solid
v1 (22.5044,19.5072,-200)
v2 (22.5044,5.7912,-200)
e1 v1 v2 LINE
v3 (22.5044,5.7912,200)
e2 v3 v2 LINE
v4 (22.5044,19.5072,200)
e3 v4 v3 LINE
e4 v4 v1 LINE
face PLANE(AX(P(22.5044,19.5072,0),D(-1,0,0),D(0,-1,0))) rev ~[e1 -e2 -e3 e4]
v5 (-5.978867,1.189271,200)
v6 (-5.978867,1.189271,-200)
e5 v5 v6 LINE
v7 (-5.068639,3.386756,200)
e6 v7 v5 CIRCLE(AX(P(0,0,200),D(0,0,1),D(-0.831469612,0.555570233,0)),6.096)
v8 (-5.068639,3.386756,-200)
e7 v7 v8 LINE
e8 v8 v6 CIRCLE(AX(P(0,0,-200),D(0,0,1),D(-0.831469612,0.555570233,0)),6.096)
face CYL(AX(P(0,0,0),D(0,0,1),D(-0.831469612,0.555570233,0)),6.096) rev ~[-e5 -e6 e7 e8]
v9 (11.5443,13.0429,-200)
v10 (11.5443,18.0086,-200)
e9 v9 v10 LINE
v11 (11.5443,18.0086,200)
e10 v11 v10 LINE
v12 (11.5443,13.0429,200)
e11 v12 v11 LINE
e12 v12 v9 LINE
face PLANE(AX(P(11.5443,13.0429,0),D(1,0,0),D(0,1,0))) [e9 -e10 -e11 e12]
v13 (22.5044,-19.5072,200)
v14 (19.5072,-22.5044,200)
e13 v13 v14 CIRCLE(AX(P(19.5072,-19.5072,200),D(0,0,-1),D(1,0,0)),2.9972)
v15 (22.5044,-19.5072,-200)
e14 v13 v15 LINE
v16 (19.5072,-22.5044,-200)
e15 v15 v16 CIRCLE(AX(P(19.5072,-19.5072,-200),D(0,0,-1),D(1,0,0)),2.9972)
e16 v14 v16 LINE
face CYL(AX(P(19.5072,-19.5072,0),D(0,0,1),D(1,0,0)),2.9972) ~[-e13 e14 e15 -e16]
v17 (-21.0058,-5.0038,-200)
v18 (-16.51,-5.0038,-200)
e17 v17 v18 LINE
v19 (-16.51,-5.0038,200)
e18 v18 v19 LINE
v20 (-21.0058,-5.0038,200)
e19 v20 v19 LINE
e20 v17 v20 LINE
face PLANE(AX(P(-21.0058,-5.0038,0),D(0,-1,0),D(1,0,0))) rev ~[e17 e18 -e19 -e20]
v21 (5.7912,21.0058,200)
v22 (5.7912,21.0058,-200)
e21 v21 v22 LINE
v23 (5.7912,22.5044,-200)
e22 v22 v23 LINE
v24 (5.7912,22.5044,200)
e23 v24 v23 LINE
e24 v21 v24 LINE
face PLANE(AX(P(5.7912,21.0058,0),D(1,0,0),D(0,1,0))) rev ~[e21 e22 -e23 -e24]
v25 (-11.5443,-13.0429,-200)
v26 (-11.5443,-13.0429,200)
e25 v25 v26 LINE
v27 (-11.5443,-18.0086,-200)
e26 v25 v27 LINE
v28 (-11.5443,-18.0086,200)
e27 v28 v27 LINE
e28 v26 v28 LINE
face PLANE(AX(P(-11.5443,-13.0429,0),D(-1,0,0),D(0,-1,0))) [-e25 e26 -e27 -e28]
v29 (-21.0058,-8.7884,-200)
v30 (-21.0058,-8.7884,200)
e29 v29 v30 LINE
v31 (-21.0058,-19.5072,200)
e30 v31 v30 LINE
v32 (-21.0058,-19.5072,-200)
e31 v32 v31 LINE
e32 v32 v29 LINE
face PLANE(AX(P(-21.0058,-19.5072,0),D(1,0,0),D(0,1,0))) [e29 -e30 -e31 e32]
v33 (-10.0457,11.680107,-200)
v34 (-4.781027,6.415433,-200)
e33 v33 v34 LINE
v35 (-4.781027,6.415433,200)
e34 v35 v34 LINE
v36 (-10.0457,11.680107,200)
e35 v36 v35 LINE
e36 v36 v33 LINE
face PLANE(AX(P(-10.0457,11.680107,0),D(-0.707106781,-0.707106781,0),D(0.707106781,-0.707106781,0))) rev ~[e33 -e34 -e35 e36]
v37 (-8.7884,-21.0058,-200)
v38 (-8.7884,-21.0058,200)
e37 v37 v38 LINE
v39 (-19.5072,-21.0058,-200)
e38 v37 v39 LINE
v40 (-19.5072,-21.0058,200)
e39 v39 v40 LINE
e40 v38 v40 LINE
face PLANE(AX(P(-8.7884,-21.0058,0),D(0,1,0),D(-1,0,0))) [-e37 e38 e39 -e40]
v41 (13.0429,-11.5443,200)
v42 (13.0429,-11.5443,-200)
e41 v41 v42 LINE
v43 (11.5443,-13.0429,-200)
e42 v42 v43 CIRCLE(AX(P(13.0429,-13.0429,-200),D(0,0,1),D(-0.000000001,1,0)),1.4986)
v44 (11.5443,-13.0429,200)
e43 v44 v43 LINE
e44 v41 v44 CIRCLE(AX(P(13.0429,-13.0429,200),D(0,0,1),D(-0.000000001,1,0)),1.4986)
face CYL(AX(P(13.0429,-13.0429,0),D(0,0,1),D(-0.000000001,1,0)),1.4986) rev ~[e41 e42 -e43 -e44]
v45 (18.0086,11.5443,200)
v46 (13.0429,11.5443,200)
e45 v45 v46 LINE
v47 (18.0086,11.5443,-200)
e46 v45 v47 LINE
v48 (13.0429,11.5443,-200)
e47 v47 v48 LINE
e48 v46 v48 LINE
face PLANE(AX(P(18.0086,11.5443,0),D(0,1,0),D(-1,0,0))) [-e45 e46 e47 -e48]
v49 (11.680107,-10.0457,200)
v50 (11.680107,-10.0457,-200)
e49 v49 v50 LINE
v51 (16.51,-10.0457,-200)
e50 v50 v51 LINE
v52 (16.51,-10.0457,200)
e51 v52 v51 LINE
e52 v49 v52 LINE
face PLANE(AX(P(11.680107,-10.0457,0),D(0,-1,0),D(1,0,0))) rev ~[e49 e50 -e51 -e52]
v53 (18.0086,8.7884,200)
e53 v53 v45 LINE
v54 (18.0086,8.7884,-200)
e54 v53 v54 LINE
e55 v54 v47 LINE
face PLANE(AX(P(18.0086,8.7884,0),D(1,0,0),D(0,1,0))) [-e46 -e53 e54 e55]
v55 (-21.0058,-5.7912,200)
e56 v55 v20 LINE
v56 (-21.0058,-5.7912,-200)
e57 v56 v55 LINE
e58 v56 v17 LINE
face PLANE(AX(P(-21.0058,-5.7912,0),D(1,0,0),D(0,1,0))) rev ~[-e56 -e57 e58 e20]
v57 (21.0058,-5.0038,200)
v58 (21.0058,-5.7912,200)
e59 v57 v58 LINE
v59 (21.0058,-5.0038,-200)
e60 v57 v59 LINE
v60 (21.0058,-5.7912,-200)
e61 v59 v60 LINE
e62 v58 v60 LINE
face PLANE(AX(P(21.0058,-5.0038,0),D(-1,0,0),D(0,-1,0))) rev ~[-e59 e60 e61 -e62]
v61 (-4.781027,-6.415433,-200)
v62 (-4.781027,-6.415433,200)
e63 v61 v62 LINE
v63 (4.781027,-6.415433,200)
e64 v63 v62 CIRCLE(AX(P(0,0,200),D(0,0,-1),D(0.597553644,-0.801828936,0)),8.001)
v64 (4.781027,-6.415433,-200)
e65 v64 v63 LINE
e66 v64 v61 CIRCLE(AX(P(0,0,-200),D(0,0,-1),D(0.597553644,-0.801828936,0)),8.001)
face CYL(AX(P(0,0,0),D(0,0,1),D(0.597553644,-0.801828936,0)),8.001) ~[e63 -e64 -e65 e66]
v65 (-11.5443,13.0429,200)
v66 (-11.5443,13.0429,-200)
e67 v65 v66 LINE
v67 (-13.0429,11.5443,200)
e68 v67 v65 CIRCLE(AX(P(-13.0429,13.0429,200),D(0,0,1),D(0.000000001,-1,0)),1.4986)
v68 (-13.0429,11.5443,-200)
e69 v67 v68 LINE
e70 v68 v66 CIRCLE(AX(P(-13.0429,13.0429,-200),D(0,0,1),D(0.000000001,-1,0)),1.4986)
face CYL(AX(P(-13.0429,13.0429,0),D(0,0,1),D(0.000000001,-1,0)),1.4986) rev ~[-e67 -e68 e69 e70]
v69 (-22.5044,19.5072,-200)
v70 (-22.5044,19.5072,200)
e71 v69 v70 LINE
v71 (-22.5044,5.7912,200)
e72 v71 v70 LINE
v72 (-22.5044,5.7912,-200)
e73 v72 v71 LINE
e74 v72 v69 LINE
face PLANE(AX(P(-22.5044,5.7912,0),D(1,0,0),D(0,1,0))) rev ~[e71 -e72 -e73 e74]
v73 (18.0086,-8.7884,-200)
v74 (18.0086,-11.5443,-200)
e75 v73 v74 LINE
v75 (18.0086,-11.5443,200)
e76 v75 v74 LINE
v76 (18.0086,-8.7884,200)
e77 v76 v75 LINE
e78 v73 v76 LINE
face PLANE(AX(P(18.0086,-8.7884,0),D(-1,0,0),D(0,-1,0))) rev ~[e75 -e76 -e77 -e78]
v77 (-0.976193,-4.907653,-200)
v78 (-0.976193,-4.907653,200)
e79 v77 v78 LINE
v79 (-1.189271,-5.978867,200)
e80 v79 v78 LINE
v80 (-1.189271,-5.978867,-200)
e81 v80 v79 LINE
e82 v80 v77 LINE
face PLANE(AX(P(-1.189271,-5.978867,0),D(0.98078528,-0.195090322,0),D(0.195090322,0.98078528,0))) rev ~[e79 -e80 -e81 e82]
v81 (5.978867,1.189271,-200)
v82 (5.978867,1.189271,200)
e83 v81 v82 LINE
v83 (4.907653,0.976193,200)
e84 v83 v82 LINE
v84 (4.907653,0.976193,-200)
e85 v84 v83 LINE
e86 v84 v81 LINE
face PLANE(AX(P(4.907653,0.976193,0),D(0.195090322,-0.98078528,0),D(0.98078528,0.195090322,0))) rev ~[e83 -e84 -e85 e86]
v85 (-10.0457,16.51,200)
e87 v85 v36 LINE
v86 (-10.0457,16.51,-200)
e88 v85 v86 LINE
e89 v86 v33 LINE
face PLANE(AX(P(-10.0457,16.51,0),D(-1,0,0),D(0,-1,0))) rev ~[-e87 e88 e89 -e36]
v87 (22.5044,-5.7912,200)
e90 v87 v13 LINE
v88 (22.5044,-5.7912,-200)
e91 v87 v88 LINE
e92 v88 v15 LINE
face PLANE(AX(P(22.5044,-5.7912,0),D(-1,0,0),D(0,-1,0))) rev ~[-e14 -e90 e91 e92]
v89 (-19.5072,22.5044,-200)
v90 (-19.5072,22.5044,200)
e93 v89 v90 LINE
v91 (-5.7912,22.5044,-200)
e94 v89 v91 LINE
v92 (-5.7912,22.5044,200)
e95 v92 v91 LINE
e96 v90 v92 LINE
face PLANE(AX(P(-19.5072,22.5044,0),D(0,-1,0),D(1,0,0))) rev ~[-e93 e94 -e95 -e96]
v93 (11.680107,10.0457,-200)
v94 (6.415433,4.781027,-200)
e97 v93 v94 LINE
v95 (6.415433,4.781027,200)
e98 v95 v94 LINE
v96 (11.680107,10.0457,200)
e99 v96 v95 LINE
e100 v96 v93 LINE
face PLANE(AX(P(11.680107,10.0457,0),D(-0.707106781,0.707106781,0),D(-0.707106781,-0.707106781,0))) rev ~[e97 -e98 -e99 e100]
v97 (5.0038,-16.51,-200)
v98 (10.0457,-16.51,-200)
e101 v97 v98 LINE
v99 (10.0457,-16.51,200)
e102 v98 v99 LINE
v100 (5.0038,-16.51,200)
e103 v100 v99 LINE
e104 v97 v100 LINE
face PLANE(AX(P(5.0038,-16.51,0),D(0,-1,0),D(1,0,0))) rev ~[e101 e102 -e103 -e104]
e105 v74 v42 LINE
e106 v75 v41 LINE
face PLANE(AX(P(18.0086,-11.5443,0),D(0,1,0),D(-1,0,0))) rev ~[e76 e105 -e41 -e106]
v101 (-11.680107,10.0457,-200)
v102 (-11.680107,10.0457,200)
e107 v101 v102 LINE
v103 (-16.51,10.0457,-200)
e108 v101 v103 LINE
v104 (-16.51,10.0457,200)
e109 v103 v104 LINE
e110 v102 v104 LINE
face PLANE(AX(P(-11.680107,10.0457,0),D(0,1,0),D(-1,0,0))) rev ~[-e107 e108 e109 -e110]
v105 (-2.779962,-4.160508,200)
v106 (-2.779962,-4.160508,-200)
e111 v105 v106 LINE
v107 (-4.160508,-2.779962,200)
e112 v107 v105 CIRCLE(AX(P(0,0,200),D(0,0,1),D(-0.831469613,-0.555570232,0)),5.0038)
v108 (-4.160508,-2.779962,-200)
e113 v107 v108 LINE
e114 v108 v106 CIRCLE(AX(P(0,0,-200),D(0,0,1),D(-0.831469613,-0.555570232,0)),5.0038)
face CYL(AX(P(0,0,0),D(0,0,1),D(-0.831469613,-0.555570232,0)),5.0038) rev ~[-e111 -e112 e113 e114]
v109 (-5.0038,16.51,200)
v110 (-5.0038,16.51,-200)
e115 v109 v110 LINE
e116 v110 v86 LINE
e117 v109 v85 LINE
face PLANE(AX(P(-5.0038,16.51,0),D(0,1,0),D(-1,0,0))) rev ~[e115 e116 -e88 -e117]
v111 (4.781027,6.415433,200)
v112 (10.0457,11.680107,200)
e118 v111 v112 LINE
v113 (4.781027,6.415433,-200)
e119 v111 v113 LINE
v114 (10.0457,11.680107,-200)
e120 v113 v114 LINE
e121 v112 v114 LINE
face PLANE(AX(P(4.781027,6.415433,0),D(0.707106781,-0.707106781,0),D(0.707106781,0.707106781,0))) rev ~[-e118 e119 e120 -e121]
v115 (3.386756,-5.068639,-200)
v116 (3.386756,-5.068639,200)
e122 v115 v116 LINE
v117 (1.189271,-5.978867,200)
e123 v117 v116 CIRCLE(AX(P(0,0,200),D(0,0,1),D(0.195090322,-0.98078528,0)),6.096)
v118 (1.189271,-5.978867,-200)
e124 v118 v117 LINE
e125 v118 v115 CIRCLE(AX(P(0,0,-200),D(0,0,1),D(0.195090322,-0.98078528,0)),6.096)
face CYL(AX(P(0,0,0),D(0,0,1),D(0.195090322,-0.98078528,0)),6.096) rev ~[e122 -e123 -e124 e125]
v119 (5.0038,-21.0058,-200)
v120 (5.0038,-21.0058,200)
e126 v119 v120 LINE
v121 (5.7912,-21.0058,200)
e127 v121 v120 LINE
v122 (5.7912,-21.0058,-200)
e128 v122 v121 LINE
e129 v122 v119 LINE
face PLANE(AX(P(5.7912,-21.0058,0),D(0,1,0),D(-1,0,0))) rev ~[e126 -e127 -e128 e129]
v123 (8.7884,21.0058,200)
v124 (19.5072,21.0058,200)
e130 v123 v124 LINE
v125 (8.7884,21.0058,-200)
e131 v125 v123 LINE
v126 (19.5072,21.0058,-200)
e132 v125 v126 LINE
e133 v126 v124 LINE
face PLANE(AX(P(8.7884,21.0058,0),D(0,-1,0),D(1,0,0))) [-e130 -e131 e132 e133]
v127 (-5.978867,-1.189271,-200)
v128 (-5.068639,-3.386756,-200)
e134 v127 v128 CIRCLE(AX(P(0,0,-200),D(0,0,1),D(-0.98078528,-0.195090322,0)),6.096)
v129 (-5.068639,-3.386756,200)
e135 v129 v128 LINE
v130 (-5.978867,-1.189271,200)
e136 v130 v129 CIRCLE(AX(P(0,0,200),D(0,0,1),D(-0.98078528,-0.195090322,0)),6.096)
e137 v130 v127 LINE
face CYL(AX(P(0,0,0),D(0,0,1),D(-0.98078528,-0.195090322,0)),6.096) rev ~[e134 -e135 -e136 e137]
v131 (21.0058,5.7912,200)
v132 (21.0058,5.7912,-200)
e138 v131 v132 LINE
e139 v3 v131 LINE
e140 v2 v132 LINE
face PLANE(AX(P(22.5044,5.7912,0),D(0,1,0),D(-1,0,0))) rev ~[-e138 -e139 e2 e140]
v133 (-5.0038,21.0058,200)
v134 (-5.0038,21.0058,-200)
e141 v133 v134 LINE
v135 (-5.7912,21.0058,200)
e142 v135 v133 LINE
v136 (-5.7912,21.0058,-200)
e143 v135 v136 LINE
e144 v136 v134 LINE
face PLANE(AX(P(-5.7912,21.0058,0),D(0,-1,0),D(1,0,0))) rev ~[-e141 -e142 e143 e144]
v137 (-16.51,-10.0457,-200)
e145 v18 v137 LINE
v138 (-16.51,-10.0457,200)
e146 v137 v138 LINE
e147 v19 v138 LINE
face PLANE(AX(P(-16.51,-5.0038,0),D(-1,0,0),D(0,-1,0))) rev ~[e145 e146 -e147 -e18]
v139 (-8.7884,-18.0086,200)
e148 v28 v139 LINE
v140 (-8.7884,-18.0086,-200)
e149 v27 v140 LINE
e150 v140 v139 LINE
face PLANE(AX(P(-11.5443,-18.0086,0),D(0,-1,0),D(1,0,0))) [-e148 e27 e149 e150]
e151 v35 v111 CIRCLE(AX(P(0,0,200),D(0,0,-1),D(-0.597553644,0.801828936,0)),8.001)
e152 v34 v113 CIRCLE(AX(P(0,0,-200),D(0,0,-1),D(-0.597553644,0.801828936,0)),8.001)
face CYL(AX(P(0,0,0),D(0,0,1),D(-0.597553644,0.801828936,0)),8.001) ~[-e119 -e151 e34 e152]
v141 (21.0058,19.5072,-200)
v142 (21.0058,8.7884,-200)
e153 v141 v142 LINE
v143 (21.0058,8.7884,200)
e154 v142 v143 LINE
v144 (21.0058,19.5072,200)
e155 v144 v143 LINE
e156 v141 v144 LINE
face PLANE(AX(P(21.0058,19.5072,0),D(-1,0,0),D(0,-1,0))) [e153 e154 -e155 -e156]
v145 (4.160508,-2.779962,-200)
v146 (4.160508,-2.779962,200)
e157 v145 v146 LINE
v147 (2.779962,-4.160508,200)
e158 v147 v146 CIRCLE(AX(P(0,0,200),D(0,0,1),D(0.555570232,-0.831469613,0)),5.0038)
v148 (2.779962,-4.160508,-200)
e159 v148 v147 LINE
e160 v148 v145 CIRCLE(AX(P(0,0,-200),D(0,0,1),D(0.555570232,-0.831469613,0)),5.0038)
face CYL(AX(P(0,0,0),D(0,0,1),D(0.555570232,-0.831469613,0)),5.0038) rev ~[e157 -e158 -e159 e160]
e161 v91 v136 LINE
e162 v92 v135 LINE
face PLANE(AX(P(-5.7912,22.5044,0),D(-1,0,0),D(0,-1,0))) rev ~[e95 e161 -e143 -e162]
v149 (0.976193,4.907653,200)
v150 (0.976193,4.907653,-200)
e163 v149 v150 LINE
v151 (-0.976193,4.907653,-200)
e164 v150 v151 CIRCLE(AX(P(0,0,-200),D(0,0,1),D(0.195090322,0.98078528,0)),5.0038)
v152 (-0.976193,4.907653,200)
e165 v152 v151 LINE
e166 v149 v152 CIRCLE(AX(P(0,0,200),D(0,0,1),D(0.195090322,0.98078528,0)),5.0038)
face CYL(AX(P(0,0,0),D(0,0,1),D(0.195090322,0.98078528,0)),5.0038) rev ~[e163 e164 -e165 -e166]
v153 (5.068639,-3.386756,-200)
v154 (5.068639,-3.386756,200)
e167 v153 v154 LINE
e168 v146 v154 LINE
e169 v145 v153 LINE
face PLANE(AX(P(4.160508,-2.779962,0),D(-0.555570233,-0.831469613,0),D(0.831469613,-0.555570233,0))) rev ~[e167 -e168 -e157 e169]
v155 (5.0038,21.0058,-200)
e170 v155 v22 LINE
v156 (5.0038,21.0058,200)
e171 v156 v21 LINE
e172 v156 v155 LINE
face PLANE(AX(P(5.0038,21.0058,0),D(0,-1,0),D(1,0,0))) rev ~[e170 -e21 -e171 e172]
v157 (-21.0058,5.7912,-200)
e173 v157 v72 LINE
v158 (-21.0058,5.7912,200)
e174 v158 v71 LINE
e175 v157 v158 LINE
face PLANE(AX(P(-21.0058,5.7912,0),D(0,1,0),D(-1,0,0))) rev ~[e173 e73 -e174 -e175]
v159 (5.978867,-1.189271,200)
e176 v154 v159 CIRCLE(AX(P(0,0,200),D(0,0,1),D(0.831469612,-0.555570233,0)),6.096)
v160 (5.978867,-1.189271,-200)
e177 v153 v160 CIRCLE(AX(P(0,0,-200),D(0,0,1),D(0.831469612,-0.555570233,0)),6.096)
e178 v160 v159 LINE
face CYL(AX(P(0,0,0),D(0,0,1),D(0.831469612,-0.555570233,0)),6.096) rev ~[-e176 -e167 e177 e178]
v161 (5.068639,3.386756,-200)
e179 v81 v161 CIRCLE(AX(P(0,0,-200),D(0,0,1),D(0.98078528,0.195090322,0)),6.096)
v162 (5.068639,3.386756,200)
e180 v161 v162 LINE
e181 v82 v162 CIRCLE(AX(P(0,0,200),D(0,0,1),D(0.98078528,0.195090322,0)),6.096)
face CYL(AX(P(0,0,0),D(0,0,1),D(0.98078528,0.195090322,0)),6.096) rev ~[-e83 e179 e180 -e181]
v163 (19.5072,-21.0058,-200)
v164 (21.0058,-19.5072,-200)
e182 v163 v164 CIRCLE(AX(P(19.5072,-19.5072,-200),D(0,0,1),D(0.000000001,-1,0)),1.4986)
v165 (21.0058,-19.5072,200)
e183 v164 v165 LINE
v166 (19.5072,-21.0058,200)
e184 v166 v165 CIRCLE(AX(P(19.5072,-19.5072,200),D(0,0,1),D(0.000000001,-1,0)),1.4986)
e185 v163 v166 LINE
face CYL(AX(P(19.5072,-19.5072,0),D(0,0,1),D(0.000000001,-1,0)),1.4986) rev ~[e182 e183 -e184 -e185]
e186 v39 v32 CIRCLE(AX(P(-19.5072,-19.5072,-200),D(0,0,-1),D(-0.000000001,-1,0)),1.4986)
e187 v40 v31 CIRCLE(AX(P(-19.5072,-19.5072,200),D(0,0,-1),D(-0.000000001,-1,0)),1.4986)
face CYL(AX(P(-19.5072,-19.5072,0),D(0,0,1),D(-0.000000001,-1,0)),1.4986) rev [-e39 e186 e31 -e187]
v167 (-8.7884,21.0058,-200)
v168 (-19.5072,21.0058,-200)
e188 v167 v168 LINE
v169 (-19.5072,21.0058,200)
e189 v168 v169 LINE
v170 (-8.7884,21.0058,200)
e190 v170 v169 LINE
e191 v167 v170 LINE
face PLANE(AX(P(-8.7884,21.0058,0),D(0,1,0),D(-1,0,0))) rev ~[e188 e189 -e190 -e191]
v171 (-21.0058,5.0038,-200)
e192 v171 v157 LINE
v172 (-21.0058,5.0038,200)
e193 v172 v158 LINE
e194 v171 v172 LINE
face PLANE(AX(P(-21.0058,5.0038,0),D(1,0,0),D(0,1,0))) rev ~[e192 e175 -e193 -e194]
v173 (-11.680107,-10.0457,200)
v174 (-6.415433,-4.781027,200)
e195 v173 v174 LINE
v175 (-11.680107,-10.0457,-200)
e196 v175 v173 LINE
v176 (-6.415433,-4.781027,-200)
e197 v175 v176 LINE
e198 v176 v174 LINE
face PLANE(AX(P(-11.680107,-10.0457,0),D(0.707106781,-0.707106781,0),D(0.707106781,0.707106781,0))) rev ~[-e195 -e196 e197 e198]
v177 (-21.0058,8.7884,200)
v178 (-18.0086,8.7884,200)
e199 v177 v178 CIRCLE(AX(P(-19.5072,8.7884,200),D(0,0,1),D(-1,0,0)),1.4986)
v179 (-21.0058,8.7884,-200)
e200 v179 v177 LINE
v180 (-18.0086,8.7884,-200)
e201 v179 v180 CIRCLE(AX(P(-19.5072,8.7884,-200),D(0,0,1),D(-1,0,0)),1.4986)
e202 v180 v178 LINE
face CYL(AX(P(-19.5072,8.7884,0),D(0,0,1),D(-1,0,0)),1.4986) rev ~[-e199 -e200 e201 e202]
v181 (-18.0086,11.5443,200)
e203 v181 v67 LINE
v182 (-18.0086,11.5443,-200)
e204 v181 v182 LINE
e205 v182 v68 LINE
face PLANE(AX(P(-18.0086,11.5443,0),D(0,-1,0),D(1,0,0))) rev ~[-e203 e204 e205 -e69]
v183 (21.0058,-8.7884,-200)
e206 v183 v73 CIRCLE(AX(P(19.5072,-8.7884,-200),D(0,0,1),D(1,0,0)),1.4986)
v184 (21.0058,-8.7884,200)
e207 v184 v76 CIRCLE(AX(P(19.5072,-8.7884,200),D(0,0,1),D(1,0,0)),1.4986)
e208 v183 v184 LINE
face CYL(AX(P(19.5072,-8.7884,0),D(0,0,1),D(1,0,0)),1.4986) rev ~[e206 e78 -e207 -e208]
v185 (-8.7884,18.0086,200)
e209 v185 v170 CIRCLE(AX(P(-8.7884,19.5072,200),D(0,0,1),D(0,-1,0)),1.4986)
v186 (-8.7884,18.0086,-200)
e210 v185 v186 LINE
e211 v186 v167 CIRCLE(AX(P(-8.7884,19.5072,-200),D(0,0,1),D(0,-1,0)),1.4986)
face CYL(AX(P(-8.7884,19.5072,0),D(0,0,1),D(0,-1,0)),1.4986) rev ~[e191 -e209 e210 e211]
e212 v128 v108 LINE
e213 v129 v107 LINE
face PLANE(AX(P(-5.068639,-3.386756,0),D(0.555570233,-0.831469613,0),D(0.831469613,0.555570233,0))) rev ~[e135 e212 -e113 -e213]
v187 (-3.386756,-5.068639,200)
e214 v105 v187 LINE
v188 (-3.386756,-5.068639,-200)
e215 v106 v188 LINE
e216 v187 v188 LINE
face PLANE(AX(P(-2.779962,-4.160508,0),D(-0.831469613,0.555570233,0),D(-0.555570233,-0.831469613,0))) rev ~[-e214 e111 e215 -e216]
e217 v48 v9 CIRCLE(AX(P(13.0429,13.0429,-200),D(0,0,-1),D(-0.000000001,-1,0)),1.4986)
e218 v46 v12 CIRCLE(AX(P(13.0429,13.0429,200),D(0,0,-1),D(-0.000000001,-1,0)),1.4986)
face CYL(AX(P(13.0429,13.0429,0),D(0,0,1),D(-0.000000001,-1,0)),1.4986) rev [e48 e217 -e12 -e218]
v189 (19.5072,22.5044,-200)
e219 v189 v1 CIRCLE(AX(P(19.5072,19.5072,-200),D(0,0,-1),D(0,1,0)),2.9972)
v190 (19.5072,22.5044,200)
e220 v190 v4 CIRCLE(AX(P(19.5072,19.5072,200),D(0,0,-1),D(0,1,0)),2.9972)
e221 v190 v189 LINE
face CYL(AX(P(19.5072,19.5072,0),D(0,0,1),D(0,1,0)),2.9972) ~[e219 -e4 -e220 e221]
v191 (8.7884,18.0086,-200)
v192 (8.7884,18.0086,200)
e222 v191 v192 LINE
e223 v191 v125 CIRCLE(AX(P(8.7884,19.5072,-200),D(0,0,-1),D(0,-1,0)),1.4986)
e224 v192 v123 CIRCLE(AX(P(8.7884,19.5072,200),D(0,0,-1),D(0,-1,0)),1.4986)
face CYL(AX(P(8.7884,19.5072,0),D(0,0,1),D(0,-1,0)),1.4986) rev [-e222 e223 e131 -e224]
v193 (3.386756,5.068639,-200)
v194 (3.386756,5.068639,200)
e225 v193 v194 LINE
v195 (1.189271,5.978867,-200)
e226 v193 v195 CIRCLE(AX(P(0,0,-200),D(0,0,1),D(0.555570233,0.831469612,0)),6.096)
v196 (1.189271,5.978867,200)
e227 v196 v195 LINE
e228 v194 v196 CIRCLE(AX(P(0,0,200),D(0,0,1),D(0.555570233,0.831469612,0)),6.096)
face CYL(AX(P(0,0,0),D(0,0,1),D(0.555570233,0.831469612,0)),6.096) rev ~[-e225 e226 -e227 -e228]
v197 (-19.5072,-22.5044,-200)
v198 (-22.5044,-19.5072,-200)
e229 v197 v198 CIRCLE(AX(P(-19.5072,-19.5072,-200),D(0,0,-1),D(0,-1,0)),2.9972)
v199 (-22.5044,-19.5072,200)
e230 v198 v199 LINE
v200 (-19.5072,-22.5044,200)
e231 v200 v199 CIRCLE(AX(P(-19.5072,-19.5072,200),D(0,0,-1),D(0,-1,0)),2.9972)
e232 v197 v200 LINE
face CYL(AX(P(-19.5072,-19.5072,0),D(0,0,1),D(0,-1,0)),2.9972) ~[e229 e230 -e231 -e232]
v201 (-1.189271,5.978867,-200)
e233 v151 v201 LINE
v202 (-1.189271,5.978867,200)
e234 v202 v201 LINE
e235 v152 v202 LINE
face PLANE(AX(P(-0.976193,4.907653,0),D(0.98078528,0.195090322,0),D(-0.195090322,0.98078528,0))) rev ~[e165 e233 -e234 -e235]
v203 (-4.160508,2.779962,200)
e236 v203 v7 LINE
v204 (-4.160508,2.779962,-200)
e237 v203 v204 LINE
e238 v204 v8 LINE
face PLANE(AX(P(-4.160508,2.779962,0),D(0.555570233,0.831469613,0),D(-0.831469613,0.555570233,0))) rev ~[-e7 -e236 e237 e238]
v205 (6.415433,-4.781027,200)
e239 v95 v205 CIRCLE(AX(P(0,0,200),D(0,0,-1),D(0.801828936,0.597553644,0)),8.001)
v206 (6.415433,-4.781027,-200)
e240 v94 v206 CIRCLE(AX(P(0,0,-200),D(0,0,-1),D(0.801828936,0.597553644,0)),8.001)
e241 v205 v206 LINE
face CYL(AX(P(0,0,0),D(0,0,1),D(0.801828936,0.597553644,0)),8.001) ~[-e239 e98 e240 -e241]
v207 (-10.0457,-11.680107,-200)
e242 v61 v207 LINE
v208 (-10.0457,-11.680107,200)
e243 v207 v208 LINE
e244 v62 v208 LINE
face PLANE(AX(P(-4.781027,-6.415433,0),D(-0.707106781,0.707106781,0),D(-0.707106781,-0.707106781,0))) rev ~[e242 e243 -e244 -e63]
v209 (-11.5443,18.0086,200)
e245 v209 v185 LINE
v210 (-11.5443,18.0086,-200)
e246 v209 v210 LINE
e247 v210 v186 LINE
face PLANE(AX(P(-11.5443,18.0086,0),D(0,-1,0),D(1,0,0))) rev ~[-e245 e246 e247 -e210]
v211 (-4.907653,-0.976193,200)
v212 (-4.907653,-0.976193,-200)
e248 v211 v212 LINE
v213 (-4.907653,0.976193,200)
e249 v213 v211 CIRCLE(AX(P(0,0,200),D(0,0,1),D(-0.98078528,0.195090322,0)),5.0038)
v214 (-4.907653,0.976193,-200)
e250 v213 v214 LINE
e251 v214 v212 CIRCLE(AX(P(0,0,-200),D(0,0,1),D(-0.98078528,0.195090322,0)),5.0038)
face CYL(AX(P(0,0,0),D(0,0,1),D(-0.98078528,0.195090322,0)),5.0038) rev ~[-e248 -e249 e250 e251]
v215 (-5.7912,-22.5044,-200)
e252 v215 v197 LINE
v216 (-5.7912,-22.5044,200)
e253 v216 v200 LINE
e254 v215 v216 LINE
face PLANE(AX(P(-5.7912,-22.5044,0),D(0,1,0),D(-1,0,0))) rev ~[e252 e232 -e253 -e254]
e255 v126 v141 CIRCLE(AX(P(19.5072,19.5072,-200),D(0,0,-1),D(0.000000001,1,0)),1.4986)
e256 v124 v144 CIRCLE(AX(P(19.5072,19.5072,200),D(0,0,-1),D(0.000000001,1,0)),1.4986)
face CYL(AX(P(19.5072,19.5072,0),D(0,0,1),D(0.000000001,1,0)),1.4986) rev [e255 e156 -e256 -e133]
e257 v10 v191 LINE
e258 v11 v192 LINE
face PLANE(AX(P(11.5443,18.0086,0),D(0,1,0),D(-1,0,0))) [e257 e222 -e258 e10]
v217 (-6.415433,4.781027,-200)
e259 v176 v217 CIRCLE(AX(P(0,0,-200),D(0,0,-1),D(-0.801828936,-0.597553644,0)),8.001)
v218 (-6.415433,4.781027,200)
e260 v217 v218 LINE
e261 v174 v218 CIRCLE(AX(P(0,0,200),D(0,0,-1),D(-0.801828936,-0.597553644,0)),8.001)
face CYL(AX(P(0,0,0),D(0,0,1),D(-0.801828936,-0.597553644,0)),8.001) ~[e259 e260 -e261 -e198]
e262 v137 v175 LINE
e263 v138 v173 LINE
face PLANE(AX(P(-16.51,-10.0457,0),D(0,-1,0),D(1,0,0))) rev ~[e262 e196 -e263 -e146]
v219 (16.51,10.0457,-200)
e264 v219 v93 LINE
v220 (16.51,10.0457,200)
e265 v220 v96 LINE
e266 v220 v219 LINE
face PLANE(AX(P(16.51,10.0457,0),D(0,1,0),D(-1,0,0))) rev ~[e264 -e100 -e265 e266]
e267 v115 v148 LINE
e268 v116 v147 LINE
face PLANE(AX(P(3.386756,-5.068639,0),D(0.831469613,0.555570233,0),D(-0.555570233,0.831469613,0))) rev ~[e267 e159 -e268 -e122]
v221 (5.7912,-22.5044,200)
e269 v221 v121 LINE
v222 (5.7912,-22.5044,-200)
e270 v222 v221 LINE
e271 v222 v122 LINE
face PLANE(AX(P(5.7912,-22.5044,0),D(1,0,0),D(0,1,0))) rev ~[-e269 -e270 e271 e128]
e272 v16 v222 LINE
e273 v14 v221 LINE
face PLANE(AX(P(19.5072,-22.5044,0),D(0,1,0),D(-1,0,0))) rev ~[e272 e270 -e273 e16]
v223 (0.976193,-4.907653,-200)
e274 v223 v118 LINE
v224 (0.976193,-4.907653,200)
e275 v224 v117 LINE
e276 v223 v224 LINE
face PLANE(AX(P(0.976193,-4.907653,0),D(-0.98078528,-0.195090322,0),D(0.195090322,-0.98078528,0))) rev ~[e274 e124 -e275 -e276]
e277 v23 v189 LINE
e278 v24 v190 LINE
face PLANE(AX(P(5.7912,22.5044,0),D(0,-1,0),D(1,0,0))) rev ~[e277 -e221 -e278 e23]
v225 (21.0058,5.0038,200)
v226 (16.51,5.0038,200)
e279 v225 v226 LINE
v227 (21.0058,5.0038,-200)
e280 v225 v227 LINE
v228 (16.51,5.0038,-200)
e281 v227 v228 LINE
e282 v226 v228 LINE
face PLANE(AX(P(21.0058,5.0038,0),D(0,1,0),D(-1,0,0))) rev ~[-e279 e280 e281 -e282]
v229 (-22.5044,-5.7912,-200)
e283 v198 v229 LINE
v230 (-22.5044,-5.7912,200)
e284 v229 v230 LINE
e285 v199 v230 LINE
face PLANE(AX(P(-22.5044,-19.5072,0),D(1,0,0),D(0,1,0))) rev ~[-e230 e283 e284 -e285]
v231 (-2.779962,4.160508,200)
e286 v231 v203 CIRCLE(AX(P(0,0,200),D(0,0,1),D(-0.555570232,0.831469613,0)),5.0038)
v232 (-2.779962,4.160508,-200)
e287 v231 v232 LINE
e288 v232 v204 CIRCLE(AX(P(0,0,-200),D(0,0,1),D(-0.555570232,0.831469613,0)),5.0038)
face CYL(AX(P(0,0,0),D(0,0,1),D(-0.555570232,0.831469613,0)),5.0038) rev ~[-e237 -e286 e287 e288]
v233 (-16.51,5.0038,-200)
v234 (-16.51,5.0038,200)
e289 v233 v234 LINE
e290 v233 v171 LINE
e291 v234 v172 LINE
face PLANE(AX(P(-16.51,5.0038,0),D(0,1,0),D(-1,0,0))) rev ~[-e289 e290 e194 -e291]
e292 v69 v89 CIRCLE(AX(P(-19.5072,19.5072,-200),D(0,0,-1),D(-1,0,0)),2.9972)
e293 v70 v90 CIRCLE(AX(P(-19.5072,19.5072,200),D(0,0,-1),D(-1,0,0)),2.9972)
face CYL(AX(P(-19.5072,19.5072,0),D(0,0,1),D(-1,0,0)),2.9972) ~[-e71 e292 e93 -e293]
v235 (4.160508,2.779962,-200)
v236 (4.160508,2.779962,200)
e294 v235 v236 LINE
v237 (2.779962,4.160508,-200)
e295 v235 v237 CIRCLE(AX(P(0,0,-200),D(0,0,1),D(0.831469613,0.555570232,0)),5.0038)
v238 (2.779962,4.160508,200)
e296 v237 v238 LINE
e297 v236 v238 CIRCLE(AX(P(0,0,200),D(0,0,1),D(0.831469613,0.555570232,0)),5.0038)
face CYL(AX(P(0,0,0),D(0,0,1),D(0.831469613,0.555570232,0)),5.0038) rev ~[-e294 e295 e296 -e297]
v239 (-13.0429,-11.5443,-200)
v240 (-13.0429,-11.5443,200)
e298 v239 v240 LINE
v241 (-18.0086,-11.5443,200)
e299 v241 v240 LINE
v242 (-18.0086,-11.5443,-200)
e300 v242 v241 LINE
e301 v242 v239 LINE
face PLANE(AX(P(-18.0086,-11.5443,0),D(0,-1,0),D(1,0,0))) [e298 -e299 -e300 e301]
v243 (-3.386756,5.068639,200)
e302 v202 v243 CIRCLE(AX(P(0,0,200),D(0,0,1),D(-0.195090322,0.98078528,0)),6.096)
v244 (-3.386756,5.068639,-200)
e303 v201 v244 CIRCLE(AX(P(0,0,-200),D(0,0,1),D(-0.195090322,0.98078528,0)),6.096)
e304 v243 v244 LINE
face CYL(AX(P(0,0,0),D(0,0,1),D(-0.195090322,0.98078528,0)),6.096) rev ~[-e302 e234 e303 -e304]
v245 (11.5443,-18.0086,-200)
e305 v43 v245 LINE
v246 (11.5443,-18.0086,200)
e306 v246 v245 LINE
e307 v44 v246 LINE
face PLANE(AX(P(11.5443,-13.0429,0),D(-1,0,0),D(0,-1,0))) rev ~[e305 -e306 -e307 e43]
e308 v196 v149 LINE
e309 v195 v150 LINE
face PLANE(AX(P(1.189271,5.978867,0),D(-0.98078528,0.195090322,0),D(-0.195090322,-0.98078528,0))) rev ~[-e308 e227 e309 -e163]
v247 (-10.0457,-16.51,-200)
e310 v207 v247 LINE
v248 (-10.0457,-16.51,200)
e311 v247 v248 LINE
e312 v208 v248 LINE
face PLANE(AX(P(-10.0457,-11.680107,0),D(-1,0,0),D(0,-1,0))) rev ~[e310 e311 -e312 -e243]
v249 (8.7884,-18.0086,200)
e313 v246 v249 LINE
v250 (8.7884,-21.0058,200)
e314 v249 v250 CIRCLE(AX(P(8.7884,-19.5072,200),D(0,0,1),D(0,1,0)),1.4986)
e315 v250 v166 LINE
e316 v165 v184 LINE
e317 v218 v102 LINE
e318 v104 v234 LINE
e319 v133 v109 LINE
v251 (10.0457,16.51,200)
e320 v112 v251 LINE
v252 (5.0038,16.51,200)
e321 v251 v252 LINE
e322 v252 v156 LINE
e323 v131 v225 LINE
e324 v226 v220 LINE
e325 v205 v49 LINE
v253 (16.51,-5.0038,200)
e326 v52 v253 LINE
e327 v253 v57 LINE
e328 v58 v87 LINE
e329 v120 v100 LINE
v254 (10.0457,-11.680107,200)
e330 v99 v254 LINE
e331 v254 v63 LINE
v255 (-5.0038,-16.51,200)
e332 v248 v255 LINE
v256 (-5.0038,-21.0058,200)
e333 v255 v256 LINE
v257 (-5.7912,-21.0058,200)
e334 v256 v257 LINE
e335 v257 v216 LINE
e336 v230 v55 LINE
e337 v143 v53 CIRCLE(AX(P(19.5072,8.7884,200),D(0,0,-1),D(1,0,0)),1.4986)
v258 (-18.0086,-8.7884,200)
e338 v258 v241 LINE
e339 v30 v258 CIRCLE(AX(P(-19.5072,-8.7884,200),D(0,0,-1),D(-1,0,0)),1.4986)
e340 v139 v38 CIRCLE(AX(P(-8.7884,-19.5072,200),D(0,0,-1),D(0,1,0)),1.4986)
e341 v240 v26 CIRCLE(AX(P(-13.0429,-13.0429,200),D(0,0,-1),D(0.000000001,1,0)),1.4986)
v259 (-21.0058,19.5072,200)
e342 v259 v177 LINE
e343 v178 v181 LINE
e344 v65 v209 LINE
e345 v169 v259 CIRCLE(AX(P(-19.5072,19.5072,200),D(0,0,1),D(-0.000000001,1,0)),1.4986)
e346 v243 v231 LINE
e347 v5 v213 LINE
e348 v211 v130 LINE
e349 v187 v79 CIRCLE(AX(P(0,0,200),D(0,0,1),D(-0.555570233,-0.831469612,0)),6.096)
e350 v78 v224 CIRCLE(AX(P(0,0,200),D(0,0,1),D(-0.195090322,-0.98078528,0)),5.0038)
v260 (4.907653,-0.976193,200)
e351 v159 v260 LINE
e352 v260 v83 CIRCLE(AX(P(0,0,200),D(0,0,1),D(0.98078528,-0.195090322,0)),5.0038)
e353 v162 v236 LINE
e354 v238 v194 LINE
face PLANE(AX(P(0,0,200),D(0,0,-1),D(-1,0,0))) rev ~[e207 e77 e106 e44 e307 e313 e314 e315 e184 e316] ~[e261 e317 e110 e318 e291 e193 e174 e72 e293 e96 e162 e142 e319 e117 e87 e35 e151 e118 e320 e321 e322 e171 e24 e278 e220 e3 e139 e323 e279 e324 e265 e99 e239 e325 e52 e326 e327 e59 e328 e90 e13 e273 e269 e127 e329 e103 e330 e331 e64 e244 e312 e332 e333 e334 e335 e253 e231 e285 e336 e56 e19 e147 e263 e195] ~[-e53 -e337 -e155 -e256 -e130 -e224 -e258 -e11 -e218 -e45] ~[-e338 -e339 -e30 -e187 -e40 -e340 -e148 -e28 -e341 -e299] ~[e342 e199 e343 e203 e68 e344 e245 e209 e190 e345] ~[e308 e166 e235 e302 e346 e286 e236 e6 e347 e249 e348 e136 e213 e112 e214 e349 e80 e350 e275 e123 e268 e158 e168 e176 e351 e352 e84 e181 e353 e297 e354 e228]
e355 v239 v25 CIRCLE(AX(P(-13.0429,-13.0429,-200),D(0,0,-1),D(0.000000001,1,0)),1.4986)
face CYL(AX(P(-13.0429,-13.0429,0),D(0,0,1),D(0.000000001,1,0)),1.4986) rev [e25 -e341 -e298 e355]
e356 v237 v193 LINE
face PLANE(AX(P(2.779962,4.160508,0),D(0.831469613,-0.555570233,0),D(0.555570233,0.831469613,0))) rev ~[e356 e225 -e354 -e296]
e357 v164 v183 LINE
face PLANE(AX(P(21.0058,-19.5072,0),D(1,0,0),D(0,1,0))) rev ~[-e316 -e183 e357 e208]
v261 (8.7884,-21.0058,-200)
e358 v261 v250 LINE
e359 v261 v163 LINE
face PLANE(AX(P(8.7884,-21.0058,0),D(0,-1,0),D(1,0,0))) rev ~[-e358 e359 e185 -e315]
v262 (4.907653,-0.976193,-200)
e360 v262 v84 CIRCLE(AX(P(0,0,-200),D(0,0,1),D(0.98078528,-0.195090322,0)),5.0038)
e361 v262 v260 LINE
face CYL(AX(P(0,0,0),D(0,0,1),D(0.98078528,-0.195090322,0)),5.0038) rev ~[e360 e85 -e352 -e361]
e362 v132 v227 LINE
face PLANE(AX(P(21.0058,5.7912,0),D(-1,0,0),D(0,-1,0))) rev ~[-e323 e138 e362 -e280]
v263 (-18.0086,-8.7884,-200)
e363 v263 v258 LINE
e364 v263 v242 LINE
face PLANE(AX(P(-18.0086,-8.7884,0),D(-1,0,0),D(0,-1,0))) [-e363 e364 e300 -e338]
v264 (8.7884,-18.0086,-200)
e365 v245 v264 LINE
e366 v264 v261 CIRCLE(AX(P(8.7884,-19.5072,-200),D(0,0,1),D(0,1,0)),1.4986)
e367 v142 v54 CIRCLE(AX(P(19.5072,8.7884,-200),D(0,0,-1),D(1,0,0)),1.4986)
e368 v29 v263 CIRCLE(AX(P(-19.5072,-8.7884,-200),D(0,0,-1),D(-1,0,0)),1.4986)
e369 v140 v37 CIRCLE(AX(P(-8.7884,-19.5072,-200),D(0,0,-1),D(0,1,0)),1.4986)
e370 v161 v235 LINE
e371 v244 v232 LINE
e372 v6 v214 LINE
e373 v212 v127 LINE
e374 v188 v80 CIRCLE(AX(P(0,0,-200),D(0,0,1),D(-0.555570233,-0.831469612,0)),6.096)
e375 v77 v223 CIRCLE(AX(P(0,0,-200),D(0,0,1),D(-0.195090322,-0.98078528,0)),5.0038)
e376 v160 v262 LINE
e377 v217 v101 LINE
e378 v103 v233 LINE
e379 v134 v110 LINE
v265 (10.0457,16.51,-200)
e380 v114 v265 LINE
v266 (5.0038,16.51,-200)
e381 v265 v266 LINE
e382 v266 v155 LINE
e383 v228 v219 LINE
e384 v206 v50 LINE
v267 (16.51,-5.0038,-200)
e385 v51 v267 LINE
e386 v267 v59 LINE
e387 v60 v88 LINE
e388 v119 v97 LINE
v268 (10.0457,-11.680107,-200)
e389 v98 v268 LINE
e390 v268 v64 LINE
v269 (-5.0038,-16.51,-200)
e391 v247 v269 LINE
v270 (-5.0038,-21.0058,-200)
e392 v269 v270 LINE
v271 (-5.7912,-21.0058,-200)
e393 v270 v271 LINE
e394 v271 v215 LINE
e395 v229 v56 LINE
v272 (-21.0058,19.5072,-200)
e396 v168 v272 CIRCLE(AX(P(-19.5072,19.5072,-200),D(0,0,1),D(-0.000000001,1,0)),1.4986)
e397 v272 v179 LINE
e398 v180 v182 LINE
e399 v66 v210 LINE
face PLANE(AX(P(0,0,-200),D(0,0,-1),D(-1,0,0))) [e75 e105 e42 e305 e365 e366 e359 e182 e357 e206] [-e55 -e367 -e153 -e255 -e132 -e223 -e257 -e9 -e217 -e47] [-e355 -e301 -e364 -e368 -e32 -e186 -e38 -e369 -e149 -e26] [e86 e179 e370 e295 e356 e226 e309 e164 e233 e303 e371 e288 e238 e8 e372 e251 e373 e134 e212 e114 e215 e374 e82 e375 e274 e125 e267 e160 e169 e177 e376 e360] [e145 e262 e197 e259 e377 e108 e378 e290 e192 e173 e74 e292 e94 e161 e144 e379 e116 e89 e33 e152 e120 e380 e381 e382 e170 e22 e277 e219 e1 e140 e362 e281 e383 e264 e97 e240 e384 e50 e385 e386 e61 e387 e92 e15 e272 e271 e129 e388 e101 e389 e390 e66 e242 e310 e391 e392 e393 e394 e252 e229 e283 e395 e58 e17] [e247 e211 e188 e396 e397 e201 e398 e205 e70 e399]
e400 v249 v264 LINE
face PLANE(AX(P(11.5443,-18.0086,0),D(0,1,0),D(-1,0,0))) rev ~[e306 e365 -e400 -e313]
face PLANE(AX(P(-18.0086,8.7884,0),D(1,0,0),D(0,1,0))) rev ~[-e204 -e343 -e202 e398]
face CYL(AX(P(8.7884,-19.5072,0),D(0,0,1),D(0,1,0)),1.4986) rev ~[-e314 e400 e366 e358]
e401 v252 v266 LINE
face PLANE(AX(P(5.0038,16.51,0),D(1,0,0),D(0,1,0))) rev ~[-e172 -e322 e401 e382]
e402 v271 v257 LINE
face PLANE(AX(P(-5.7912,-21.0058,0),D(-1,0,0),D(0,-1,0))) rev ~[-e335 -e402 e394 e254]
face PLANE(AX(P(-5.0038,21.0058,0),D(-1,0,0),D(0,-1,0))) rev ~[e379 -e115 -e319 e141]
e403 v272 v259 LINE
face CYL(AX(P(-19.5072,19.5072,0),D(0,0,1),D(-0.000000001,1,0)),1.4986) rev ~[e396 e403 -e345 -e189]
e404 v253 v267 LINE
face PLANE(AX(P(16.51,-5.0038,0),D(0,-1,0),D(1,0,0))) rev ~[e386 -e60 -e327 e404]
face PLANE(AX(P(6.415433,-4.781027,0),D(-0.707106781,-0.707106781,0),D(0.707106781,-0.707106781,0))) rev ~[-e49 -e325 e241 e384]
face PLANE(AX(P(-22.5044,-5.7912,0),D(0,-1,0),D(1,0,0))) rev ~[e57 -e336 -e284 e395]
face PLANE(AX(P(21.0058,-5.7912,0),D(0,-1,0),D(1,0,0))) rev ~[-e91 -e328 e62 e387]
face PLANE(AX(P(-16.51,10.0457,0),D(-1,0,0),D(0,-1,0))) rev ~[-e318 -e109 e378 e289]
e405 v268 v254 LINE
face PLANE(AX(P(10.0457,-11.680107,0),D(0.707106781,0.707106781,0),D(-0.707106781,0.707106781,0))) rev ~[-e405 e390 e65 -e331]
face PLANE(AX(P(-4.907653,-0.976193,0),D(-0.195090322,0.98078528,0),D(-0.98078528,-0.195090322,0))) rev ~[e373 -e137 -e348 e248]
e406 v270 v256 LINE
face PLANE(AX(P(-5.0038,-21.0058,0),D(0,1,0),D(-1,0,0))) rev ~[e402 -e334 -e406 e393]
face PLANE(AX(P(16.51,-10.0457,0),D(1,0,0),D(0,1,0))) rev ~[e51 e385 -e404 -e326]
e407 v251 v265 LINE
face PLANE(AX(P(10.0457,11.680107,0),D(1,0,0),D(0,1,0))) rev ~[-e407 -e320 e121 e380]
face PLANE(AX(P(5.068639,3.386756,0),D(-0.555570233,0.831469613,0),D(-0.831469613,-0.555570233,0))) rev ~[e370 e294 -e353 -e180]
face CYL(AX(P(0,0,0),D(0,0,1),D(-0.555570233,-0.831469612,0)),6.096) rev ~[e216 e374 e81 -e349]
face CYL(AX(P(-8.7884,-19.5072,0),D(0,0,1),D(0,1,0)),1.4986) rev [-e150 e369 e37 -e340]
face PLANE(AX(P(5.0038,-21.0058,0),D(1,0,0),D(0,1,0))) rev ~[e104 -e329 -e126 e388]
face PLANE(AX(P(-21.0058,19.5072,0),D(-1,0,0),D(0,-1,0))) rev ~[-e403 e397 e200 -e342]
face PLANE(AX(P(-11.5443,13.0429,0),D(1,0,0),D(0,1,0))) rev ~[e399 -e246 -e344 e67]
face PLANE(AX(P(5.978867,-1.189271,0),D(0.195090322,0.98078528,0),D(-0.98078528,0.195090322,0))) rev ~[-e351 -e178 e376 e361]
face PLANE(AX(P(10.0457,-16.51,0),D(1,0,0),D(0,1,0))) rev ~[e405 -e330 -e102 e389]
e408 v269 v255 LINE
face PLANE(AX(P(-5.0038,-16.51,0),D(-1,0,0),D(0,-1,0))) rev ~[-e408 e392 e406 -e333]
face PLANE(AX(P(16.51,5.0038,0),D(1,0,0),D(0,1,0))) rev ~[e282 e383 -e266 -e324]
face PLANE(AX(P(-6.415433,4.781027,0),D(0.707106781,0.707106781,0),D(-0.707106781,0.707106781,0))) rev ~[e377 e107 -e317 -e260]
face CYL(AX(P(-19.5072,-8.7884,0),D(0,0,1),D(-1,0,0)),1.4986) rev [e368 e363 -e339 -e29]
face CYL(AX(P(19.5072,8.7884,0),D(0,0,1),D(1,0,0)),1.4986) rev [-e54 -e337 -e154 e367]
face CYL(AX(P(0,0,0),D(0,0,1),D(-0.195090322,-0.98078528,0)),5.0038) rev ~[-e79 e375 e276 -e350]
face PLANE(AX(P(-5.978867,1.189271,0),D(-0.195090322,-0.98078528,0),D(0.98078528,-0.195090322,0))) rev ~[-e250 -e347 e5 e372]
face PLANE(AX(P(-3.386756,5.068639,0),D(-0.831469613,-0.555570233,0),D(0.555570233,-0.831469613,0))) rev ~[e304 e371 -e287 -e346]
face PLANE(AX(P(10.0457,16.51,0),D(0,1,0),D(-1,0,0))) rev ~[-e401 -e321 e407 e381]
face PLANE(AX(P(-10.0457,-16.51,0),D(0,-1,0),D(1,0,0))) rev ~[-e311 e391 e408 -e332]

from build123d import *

# Parameters (mm, degrees)
BOSS_EXTRUDE1_DEPTH = 200


with BuildPart() as part:
    # Sketch1 → Boss-Extrude1 (new, symmetric)
    with BuildSketch(Plane.XY):
        with BuildLine():
            Line((-19.5072, 22.5044), (-5.7912, 22.5044))
            Line((-5.7912, 22.5044), (-5.7912, 21.0058))
            Line((-5.7912, 21.0058), (-5.0038, 21.0058))
            Line((-5.0038, 21.0058), (-5.0038, 16.51))
            Line((-5.0038, 16.51), (-10.0457, 16.51))
            Line((-10.0457, 16.51), (-10.0457, 11.680106614))
            Line((-10.0457, 11.680106614), (-4.781026704, 6.415433318))
            ThreePointArc((-4.781026704, 6.415433318), (0, 8.001), (4.781026704, 6.415433318))
            Line((4.781026704, 6.415433318), (10.0457, 11.680106614))
            Line((10.0457, 11.680106614), (10.0457, 16.51))
            Line((10.0457, 16.51), (5.0038, 16.51))
            Line((5.0038, 16.51), (5.0038, 21.0058))
            Line((5.0038, 21.0058), (5.7912, 21.0058))
            Line((5.7912, 21.0058), (5.7912, 22.5044))
            Line((5.7912, 22.5044), (19.5072, 22.5044))
            ThreePointArc((19.5072, 22.5044), (21.626540445, 21.626540445), (22.5044, 19.5072))
            Line((22.5044, 19.5072), (22.5044, 5.7912))
            Line((22.5044, 5.7912), (21.0058, 5.7912))
            Line((21.0058, 5.7912), (21.0058, 5.0038))
            Line((21.0058, 5.0038), (16.51, 5.0038))
            Line((16.51, 5.0038), (16.51, 10.0457))
            Line((16.51, 10.0457), (11.680106614, 10.0457))
            Line((11.680106614, 10.0457), (6.415433318, 4.781026704))
            ThreePointArc((6.415433318, 4.781026704), (8.001, 0), (6.415433318, -4.781026704))
            Line((6.415433318, -4.781026704), (11.680106614, -10.0457))
            Line((11.680106614, -10.0457), (16.51, -10.0457))
            Line((16.51, -10.0457), (16.51, -5.0038))
            Line((16.51, -5.0038), (21.0058, -5.0038))
            Line((21.0058, -5.0038), (21.0058, -5.7912))
            Line((21.0058, -5.7912), (22.5044, -5.7912))
            Line((22.5044, -5.7912), (22.5044, -19.5072))
            ThreePointArc((22.5044, -19.5072), (21.626540445, -21.626540445), (19.5072, -22.5044))
            Line((19.5072, -22.5044), (5.7912, -22.5044))
            Line((5.7912, -22.5044), (5.7912, -21.0058))
            Line((5.7912, -21.0058), (5.0038, -21.0058))
            Line((5.0038, -21.0058), (5.0038, -16.51))
            Line((5.0038, -16.51), (10.0457, -16.51))
            Line((10.0457, -16.51), (10.0457, -11.680106614))
            Line((10.0457, -11.680106614), (4.781026704, -6.415433318))
            ThreePointArc((4.781026704, -6.415433318), (0, -8.001), (-4.781026704, -6.415433318))
            Line((-4.781026704, -6.415433318), (-10.0457, -11.680106614))
            Line((-10.0457, -11.680106614), (-10.0457, -16.51))
            Line((-10.0457, -16.51), (-5.0038, -16.51))
            Line((-5.0038, -16.51), (-5.0038, -21.0058))
            Line((-5.0038, -21.0058), (-5.7912, -21.0058))
            Line((-5.7912, -21.0058), (-5.7912, -22.5044))
            Line((-5.7912, -22.5044), (-19.5072, -22.5044))
            ThreePointArc((-19.5072, -22.5044), (-21.626540445, -21.626540445), (-22.5044, -19.5072))
            Line((-22.5044, -19.5072), (-22.5044, -5.7912))
            Line((-22.5044, -5.7912), (-21.0058, -5.7912))
            Line((-21.0058, -5.7912), (-21.0058, -5.0038))
            Line((-21.0058, -5.0038), (-16.51, -5.0038))
            Line((-16.51, -5.0038), (-16.51, -10.0457))
            Line((-16.51, -10.0457), (-11.680106614, -10.0457))
            Line((-11.680106614, -10.0457), (-6.415433318, -4.781026704))
            ThreePointArc((-6.415433318, -4.781026704), (-8.001, 0), (-6.415433318, 4.781026704))
            Line((-6.415433318, 4.781026704), (-11.680106614, 10.0457))
            Line((-11.680106614, 10.0457), (-16.51, 10.0457))
            Line((-16.51, 10.0457), (-16.51, 5.0038))
            Line((-16.51, 5.0038), (-21.0058, 5.0038))
            Line((-21.0058, 5.0038), (-21.0058, 5.7912))
            Line((-21.0058, 5.7912), (-22.5044, 5.7912))
            Line((-22.5044, 5.7912), (-22.5044, 19.5072))
            ThreePointArc((-22.5044, 19.5072), (-21.626540445, 21.626540445), (-19.5072, 22.5044))
        make_face()
        with BuildLine():
            Line((-18.0086, 11.5443), (-13.0429, 11.5443))
            ThreePointArc((-13.0429, 11.5443), (-11.983229778, 11.983229778), (-11.5443, 13.0429))
            Line((-11.5443, 13.0429), (-11.5443, 18.0086))
            Line((-11.5443, 18.0086), (-8.7884, 18.0086))
            ThreePointArc((-8.7884, 18.0086), (-7.2898, 19.5072), (-8.7884, 21.0058))
            Line((-8.7884, 21.0058), (-19.5072, 21.0058))
            ThreePointArc((-19.5072, 21.0058), (-20.566870222, 20.566870222), (-21.0058, 19.5072))
            Line((-21.0058, 19.5072), (-21.0058, 8.7884))
            ThreePointArc((-21.0058, 8.7884), (-19.5072, 7.2898), (-18.0086, 8.7884))
            Line((-18.0086, 8.7884), (-18.0086, 11.5443))
        make_face(mode=Mode.SUBTRACT)
        with BuildLine():
            Line((1.189270603, 5.978867069), (0.976192953, 4.907653386))
            ThreePointArc((0.976192953, 4.907653386), (0, 5.0038), (-0.976192953, 4.907653386))
            Line((-0.976192953, 4.907653386), (-1.189270603, 5.978867069))
            ThreePointArc((-1.189270603, 5.978867069), (-2.332838204, 5.63196963), (-3.38675614, 5.068638757))
            Line((-3.38675614, 5.068638757), (-2.779962332, 4.160507646))
            ThreePointArc((-2.779962332, 4.160507646), (-3.538220912, 3.538220912), (-4.160507646, 2.779962332))
            Line((-4.160507646, 2.779962332), (-5.068638757, 3.38675614))
            ThreePointArc((-5.068638757, 3.38675614), (-5.63196963, 2.332838204), (-5.978867069, 1.189270603))
            Line((-5.978867069, 1.189270603), (-4.907653386, 0.976192953))
            ThreePointArc((-4.907653386, 0.976192953), (-5.0038, 0), (-4.907653386, -0.976192953))
            Line((-4.907653386, -0.976192953), (-5.978867069, -1.189270603))
            ThreePointArc((-5.978867069, -1.189270603), (-5.63196963, -2.332838204), (-5.068638757, -3.38675614))
            Line((-5.068638757, -3.38675614), (-4.160507646, -2.779962332))
            ThreePointArc((-4.160507646, -2.779962332), (-3.538220912, -3.538220912), (-2.779962332, -4.160507646))
            Line((-2.779962332, -4.160507646), (-3.38675614, -5.068638757))
            ThreePointArc((-3.38675614, -5.068638757), (-2.332838204, -5.63196963), (-1.189270603, -5.978867069))
            Line((-1.189270603, -5.978867069), (-0.976192953, -4.907653386))
            ThreePointArc((-0.976192953, -4.907653386), (0, -5.0038), (0.976192953, -4.907653386))
            Line((0.976192953, -4.907653386), (1.189270603, -5.978867069))
            ThreePointArc((1.189270603, -5.978867069), (2.332838204, -5.63196963), (3.38675614, -5.068638757))
            Line((3.38675614, -5.068638757), (2.779962332, -4.160507646))
            ThreePointArc((2.779962332, -4.160507646), (3.538220912, -3.538220912), (4.160507646, -2.779962332))
            Line((4.160507646, -2.779962332), (5.068638757, -3.38675614))
            ThreePointArc((5.068638757, -3.38675614), (5.63196963, -2.332838204), (5.978867069, -1.189270603))
            Line((5.978867069, -1.189270603), (4.907653386, -0.976192953))
            ThreePointArc((4.907653386, -0.976192953), (5.0038, 0), (4.907653386, 0.976192953))
            Line((4.907653386, 0.976192953), (5.978867069, 1.189270603))
            ThreePointArc((5.978867069, 1.189270603), (5.63196963, 2.332838204), (5.068638757, 3.38675614))
            Line((5.068638757, 3.38675614), (4.160507646, 2.779962332))
            ThreePointArc((4.160507646, 2.779962332), (3.538220912, 3.538220912), (2.779962332, 4.160507646))
            Line((2.779962332, 4.160507646), (3.38675614, 5.068638757))
            ThreePointArc((3.38675614, 5.068638757), (2.332838204, 5.63196963), (1.189270603, 5.978867069))
        make_face(mode=Mode.SUBTRACT)
        with BuildLine():
            Line((11.5443, 18.0086), (8.7884, 18.0086))
            ThreePointArc((8.7884, 18.0086), (7.2898, 19.5072), (8.7884, 21.0058))
            Line((8.7884, 21.0058), (19.5072, 21.0058))
            ThreePointArc((19.5072, 21.0058), (20.566870222, 20.566870222), (21.0058, 19.5072))
            Line((21.0058, 19.5072), (21.0058, 8.7884))
            ThreePointArc((21.0058, 8.7884), (19.5072, 7.2898), (18.0086, 8.7884))
            Line((18.0086, 8.7884), (18.0086, 11.5443))
            Line((18.0086, 11.5443), (13.0429, 11.5443))
            ThreePointArc((13.0429, 11.5443), (11.983229778, 11.983229778), (11.5443, 13.0429))
            Line((11.5443, 13.0429), (11.5443, 18.0086))
        make_face(mode=Mode.SUBTRACT)
        with BuildLine():
            Line((18.0086, -11.5443), (13.0429, -11.5443))
            ThreePointArc((13.0429, -11.5443), (11.983229778, -11.983229778), (11.5443, -13.0429))
            Line((11.5443, -13.0429), (11.5443, -18.0086))
            Line((11.5443, -18.0086), (8.7884, -18.0086))
            ThreePointArc((8.7884, -18.0086), (7.2898, -19.5072), (8.7884, -21.0058))
            Line((8.7884, -21.0058), (19.5072, -21.0058))
            ThreePointArc((19.5072, -21.0058), (20.566870222, -20.566870222), (21.0058, -19.5072))
            Line((21.0058, -19.5072), (21.0058, -8.7884))
            ThreePointArc((21.0058, -8.7884), (19.5072, -7.2898), (18.0086, -8.7884))
            Line((18.0086, -8.7884), (18.0086, -11.5443))
        make_face(mode=Mode.SUBTRACT)
        with BuildLine():
            Line((-11.5443, -18.0086), (-8.7884, -18.0086))
            ThreePointArc((-8.7884, -18.0086), (-7.2898, -19.5072), (-8.7884, -21.0058))
            Line((-8.7884, -21.0058), (-19.5072, -21.0058))
            ThreePointArc((-19.5072, -21.0058), (-20.566870222, -20.566870222), (-21.0058, -19.5072))
            Line((-21.0058, -19.5072), (-21.0058, -8.7884))
            ThreePointArc((-21.0058, -8.7884), (-19.5072, -7.2898), (-18.0086, -8.7884))
            Line((-18.0086, -8.7884), (-18.0086, -11.5443))
            Line((-18.0086, -11.5443), (-13.0429, -11.5443))
            ThreePointArc((-13.0429, -11.5443), (-11.983229778, -11.983229778), (-11.5443, -13.0429))
            Line((-11.5443, -13.0429), (-11.5443, -18.0086))
        make_face(mode=Mode.SUBTRACT)
    extrude(amount=BOSS_EXTRUDE1_DEPTH, both=True)


solid = part.part
